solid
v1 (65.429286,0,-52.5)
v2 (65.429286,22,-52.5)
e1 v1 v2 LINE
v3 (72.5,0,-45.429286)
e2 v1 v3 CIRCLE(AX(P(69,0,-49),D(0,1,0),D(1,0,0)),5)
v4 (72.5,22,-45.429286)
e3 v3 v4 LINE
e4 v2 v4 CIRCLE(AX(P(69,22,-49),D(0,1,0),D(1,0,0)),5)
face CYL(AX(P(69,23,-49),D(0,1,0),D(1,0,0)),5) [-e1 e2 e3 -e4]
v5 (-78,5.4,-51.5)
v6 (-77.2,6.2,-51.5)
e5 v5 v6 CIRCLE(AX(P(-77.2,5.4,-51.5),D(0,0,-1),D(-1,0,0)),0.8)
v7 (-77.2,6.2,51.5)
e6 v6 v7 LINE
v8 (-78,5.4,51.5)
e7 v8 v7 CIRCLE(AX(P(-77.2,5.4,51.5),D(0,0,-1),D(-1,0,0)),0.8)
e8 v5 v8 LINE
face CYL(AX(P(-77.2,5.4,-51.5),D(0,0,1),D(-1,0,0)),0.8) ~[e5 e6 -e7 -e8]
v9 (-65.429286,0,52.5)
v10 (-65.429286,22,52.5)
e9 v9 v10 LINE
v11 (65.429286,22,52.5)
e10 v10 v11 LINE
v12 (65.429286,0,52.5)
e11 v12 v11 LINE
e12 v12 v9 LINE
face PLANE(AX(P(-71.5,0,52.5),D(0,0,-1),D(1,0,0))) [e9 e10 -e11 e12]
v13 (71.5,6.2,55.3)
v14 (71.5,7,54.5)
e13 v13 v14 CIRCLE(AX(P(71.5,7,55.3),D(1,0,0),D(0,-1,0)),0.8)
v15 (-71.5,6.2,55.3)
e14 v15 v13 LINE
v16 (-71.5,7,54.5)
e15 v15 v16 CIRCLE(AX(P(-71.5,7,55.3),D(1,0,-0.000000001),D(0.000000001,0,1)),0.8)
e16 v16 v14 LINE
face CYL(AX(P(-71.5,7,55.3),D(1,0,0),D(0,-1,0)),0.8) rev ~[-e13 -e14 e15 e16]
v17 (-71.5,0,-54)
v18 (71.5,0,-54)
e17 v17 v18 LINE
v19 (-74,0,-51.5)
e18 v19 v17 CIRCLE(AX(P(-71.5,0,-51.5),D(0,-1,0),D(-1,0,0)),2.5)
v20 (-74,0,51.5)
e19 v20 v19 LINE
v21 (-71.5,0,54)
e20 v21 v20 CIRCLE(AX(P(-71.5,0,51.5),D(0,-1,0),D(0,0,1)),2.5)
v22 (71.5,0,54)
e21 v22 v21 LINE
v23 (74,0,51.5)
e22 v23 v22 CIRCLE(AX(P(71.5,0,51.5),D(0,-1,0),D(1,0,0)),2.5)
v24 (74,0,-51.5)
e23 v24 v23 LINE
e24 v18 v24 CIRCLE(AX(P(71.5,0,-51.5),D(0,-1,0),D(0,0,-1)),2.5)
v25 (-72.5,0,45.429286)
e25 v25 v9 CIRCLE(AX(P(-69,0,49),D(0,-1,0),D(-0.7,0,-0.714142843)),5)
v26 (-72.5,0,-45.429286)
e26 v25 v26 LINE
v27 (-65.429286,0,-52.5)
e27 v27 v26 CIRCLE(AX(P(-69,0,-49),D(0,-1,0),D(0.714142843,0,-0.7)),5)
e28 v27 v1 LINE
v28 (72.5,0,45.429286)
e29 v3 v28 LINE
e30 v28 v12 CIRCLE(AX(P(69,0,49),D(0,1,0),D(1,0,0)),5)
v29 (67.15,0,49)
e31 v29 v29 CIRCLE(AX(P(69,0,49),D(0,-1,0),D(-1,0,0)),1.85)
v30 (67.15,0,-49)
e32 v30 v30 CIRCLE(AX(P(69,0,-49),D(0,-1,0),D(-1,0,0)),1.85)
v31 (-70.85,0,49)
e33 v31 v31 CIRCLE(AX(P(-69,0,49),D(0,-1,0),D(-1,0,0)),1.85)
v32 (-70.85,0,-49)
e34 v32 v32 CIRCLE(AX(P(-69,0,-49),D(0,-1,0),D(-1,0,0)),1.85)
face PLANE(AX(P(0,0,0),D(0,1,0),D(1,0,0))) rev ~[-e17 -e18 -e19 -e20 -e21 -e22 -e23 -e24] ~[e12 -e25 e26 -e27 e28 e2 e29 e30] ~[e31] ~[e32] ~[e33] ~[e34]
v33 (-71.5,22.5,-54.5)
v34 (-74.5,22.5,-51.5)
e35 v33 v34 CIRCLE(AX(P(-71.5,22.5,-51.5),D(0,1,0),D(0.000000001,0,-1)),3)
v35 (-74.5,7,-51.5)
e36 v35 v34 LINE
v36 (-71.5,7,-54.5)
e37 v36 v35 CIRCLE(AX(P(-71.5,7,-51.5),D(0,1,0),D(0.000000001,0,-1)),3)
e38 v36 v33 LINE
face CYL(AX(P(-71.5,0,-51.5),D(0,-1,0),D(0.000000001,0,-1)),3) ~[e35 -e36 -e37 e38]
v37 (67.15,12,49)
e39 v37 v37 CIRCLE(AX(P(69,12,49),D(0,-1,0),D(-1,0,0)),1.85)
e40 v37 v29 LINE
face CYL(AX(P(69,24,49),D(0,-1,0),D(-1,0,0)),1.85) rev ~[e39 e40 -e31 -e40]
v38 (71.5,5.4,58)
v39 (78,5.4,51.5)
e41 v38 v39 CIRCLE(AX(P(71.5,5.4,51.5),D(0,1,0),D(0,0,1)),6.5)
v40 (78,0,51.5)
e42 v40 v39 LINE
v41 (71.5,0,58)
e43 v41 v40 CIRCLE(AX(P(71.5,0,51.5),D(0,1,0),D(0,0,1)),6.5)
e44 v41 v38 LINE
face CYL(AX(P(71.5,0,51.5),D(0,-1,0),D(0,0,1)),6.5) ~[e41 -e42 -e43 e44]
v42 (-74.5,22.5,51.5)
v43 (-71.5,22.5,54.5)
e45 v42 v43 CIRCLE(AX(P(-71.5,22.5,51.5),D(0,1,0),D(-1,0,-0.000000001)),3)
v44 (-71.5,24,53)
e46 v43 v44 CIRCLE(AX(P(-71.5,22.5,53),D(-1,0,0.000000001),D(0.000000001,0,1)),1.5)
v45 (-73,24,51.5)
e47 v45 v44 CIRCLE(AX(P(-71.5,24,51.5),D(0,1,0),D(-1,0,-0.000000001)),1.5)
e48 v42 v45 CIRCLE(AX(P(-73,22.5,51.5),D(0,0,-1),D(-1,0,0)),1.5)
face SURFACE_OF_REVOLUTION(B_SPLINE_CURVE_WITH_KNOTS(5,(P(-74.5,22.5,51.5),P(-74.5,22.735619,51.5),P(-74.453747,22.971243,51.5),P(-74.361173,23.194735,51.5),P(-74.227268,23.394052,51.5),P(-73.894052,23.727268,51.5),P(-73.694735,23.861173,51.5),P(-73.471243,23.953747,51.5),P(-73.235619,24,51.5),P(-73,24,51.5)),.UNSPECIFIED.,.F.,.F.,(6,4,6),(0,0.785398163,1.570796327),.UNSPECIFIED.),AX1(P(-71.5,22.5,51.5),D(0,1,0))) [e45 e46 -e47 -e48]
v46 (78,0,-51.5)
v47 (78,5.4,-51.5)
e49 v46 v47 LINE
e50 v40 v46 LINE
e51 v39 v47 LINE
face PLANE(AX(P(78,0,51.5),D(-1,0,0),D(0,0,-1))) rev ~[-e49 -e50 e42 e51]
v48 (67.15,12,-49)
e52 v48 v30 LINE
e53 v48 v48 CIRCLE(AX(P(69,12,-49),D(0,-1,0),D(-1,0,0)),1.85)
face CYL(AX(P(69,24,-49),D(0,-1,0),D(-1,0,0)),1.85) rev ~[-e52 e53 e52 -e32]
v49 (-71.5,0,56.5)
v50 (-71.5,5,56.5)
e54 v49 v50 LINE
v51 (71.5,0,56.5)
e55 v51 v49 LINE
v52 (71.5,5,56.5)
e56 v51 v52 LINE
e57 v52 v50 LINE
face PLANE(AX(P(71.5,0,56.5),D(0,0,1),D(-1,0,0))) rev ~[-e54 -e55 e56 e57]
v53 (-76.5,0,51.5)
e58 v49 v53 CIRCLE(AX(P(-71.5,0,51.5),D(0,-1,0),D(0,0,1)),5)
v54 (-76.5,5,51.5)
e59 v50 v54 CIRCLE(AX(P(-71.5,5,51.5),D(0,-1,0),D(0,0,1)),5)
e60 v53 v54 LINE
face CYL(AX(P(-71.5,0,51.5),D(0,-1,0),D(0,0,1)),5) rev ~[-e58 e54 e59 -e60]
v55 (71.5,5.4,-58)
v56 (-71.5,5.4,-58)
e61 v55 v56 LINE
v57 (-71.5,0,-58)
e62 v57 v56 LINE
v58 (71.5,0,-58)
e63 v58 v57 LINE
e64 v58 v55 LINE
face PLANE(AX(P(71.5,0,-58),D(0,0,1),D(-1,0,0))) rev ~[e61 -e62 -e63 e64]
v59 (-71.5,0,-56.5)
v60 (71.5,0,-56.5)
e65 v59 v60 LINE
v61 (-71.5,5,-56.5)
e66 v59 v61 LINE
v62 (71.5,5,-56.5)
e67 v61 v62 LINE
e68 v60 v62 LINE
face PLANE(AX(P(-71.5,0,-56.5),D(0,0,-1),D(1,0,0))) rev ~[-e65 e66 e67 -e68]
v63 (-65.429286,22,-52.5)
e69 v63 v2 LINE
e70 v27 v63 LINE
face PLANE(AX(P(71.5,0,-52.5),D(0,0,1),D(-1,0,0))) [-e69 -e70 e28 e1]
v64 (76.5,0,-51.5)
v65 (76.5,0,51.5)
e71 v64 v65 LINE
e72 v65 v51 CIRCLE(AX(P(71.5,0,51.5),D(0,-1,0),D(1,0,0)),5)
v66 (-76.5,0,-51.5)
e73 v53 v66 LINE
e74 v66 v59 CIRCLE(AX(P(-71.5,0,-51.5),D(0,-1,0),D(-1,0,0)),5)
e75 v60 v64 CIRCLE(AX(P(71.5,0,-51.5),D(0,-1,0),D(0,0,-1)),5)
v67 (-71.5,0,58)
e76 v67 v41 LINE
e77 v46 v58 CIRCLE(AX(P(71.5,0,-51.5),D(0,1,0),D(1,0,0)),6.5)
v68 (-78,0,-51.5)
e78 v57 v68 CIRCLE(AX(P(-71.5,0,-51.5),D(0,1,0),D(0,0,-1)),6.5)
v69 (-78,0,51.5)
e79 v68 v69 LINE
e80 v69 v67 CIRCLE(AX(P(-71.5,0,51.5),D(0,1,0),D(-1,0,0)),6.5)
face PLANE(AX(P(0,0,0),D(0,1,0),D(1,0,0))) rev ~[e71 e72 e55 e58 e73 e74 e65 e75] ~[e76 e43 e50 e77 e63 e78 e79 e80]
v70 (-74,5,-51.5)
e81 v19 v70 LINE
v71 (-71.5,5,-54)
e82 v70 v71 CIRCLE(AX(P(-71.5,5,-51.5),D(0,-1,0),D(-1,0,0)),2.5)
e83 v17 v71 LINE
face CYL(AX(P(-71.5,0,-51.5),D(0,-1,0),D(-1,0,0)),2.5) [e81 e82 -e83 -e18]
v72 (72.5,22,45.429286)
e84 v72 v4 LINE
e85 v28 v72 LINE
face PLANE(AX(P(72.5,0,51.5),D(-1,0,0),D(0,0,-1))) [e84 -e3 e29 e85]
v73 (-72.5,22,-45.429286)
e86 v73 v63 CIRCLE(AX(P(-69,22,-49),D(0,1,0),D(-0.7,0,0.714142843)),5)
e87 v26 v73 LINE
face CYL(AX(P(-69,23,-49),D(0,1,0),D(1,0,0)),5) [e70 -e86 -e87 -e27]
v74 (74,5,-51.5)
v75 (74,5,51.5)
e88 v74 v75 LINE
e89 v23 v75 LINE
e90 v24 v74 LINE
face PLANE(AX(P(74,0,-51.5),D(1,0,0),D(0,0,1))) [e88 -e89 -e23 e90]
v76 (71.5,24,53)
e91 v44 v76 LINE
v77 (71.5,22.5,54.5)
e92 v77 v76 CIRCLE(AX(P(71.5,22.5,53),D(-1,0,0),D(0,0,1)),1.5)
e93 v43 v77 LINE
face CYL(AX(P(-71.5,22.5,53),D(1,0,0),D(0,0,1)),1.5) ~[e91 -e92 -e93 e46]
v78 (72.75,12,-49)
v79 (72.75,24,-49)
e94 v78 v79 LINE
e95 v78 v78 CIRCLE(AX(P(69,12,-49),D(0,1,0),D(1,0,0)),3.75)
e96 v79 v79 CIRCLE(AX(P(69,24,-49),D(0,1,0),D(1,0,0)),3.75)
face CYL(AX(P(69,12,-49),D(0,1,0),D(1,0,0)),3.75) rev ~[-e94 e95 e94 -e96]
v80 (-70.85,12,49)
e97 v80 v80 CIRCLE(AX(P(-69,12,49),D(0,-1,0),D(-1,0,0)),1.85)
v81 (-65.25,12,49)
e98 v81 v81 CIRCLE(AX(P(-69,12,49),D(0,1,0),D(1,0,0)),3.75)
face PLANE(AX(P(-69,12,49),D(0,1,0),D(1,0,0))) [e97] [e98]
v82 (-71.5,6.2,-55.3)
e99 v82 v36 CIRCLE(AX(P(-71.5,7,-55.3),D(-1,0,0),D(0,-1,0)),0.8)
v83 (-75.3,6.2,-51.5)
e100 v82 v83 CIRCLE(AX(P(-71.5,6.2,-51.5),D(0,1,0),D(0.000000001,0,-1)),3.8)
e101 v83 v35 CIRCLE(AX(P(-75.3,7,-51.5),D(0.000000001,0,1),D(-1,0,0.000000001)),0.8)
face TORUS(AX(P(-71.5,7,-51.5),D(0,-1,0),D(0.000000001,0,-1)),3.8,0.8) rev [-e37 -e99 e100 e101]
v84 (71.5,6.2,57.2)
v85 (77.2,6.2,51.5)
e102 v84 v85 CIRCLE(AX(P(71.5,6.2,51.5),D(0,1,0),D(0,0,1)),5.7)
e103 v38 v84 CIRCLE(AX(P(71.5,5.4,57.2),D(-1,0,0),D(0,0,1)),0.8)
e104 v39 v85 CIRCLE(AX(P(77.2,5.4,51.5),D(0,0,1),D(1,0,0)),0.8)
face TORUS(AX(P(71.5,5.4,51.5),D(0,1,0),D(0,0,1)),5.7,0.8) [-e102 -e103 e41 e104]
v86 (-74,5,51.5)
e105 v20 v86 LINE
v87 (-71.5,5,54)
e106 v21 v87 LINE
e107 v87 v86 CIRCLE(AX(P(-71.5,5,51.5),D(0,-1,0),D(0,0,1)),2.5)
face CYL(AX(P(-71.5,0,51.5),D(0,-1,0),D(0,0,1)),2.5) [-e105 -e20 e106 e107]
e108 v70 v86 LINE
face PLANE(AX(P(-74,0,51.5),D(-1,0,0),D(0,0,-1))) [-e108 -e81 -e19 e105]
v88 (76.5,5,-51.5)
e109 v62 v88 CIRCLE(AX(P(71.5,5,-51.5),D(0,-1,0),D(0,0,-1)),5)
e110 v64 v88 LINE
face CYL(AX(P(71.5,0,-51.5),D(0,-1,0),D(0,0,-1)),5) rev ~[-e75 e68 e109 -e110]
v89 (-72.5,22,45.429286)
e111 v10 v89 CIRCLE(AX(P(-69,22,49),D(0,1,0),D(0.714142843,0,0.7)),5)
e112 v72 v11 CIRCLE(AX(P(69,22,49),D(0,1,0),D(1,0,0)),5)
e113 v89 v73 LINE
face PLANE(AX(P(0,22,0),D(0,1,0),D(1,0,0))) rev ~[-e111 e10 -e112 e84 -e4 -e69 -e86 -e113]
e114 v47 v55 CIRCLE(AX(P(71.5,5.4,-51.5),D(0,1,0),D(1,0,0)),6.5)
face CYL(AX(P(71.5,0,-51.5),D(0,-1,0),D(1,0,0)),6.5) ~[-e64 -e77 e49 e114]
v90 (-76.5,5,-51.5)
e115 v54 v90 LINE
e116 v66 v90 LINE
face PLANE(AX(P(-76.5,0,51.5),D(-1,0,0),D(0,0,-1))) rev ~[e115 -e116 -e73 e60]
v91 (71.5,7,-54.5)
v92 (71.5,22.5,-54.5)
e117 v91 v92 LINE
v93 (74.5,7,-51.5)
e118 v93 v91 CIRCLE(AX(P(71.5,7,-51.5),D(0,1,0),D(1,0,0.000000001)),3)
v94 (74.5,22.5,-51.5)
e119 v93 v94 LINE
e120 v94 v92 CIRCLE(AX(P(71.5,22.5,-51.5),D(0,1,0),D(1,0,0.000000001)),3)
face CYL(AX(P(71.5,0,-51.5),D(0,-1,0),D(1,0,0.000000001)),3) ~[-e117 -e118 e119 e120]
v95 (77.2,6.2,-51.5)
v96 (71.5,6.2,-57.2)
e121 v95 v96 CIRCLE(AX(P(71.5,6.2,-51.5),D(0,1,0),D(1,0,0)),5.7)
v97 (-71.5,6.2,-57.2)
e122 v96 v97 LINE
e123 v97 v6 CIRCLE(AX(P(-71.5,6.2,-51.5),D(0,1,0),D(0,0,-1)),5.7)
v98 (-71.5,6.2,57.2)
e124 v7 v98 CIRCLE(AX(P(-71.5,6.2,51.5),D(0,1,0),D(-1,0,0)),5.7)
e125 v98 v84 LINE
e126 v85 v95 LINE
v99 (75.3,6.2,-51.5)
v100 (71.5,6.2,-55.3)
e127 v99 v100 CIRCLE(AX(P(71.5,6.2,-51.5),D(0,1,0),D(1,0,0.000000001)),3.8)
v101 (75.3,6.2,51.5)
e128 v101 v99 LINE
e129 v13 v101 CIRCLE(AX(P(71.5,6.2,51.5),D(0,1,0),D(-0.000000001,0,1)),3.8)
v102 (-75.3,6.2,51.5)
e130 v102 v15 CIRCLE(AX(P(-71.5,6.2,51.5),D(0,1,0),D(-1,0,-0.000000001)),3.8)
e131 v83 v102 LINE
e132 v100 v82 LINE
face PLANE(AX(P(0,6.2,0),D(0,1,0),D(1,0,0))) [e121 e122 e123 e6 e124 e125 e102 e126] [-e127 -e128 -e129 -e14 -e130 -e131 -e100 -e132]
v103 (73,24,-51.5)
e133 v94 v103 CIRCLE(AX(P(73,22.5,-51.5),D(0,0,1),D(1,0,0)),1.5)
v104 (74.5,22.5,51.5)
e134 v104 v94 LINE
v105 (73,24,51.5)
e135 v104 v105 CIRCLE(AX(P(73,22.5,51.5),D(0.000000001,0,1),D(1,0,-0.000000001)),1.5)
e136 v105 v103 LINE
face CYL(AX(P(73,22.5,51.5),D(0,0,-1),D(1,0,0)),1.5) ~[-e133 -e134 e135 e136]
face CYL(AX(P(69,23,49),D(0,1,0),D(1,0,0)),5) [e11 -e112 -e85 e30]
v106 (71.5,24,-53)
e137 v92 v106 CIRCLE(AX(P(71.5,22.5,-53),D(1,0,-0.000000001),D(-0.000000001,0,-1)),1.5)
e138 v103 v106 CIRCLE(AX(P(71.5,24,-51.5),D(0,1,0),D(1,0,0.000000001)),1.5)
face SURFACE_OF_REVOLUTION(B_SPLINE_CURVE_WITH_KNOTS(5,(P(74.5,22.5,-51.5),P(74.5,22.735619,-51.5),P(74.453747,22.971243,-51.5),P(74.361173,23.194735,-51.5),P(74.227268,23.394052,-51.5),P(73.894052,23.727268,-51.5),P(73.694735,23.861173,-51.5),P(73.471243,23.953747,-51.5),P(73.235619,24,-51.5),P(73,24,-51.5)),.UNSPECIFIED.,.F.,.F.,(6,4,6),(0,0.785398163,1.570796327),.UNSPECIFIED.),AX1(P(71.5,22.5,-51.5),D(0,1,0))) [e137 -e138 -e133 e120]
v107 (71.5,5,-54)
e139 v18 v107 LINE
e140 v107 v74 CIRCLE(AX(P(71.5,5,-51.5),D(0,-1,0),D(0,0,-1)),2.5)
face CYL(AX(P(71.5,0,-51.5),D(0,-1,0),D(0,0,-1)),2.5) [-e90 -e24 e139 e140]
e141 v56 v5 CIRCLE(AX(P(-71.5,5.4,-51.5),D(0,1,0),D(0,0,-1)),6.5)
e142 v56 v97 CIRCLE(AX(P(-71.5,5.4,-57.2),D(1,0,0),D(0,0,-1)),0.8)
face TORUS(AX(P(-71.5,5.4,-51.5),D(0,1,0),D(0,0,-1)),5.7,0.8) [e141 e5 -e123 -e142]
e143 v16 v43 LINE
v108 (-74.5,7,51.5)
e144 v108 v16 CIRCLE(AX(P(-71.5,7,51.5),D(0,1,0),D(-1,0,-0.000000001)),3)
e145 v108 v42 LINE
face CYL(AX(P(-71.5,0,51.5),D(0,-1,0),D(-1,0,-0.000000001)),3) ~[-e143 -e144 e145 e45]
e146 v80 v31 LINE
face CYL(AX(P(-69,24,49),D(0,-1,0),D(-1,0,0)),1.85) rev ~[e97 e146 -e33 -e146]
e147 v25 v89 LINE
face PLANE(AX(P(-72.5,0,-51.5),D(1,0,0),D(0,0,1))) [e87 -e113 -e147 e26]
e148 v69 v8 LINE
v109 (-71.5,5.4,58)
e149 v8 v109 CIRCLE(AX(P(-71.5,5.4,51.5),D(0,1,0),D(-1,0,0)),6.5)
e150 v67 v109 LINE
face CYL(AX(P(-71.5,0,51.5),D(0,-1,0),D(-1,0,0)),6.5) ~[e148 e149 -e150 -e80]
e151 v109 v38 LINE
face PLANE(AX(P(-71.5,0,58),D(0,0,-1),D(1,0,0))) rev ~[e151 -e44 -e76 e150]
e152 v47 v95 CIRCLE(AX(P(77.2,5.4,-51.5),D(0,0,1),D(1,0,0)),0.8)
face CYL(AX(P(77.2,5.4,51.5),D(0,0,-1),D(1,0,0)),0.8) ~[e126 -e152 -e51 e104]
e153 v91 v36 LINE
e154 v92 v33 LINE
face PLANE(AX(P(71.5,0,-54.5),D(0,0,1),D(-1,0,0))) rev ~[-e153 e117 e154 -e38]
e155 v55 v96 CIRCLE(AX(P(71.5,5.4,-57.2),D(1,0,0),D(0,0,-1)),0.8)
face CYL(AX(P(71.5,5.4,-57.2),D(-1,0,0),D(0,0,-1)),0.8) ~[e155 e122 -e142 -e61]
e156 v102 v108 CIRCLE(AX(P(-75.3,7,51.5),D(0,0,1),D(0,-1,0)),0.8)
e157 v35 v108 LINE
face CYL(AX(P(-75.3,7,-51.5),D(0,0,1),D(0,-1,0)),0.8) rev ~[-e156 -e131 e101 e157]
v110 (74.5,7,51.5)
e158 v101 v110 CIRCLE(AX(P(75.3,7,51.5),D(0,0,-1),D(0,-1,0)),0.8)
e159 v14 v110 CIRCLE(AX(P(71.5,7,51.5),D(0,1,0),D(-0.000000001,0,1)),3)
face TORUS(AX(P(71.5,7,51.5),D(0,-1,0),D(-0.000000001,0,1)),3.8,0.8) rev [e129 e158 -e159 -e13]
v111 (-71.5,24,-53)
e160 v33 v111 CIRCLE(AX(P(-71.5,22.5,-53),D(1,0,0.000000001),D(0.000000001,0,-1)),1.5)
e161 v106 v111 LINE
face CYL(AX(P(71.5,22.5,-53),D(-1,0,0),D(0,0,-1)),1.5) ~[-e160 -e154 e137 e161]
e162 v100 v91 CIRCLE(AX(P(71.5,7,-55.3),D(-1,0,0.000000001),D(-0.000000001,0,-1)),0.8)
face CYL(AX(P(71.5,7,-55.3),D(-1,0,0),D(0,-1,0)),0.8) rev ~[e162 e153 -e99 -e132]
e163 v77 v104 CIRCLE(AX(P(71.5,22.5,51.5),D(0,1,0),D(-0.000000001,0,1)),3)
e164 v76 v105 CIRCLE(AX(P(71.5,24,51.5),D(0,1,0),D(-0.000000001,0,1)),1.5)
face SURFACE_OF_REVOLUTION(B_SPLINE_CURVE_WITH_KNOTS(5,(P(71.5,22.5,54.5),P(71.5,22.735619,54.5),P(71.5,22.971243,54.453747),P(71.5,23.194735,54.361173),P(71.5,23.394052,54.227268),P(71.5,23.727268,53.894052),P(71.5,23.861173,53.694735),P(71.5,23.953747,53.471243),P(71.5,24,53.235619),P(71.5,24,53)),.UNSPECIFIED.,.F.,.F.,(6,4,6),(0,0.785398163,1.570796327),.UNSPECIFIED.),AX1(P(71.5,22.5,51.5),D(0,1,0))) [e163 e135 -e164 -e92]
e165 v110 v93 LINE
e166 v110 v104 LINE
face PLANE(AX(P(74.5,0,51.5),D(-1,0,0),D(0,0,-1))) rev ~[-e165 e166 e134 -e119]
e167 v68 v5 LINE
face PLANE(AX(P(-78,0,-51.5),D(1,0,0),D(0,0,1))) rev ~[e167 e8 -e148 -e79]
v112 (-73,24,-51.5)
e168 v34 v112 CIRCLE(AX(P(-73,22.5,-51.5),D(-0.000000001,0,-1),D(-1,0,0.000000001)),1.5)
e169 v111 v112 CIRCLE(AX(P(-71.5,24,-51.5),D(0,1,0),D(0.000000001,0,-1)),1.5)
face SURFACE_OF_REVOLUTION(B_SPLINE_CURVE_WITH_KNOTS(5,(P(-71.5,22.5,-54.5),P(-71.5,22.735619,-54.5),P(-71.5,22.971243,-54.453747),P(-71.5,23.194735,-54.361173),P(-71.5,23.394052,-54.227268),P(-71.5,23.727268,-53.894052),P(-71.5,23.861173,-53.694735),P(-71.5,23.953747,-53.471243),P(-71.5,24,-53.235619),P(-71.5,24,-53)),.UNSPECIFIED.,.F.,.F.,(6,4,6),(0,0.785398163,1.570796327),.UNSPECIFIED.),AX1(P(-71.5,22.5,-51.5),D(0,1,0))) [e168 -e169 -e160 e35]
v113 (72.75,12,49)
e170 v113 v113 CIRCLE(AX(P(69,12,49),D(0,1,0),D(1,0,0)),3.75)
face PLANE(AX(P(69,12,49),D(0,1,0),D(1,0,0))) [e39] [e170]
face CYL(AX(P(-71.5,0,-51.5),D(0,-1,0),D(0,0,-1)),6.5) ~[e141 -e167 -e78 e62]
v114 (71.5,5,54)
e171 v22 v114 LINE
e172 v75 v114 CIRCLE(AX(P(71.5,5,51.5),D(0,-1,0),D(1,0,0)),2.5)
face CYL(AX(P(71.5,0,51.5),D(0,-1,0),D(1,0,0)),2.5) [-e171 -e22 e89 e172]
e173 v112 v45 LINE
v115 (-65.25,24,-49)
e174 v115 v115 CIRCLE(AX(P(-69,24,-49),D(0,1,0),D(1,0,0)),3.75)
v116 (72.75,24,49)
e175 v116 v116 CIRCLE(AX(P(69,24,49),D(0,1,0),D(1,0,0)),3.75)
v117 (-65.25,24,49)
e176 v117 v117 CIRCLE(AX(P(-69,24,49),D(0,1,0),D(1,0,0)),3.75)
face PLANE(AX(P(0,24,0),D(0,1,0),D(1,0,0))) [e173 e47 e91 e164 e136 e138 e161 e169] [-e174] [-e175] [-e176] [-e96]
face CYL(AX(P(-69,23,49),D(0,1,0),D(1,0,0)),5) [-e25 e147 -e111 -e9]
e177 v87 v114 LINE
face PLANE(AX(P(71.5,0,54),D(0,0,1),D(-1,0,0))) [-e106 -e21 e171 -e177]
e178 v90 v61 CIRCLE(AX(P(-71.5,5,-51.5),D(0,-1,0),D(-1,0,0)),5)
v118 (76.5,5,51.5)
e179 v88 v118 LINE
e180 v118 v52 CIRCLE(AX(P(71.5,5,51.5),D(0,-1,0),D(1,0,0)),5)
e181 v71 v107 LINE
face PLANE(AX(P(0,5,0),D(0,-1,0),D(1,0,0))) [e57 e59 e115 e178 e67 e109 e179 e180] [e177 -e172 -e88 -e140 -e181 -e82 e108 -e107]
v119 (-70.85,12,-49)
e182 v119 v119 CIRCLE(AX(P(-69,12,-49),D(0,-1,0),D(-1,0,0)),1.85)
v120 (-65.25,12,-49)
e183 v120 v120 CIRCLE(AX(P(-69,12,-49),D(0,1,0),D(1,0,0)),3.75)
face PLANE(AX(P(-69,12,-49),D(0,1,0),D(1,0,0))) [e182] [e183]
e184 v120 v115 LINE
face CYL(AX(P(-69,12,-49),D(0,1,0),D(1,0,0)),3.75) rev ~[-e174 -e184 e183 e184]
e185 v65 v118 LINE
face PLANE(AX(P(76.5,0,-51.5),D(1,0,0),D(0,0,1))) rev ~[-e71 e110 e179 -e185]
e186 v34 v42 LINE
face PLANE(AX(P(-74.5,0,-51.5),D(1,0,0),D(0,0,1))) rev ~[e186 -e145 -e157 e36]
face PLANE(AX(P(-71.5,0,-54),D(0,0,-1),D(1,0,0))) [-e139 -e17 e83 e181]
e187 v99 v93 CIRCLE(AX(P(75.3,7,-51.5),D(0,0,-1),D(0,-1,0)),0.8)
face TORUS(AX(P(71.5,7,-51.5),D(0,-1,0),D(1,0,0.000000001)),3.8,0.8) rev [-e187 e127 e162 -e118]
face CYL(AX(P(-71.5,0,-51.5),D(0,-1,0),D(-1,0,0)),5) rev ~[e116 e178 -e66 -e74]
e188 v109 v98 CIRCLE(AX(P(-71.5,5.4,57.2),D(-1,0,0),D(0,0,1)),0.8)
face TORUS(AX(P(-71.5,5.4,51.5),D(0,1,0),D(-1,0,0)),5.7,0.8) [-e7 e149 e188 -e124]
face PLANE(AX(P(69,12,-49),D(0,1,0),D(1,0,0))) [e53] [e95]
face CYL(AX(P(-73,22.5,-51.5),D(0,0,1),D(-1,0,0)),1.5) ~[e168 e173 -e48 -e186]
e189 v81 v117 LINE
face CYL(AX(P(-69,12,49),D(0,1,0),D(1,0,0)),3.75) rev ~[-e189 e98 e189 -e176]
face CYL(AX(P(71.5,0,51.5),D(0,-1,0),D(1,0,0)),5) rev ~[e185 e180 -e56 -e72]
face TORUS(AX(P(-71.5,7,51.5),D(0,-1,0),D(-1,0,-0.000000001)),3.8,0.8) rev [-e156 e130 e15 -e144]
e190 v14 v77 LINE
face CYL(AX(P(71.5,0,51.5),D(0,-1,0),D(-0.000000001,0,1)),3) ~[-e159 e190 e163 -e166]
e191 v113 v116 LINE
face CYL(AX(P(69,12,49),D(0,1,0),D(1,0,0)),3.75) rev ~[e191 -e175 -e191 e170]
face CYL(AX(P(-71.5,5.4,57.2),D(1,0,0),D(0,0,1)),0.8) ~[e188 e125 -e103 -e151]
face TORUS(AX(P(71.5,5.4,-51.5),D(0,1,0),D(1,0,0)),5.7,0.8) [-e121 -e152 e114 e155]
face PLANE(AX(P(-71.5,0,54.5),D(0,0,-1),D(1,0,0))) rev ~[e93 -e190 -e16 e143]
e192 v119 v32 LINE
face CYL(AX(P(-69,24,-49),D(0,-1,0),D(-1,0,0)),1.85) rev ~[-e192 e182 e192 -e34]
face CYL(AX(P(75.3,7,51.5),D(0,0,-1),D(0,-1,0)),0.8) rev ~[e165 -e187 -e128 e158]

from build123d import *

# Parameters (mm, degrees)
BOSS_EXTRUDE1_DEPTH                     = 24
FILLET1_R                               = 1.5
SHELL1_T                                = -2
BOSS_EXTRUDE2_DEPTH                     = 6.2
CUT_EXTRUDE1_DEPTH                      = 5
FILLET2_R                               = 0.8
BOSS_EXTRUDE4_START                     = -1
SKETCH4_R                               = 5
BOSS_EXTRUDE4_DEPTH                     = 23
CBORE_FOR_M5_HEX_HEAD_BOLT1_D           = 3.7
CBORE_FOR_M5_HEX_HEAD_BOLT1_CBORE_D     = 7.5
CBORE_FOR_M5_HEX_HEAD_BOLT1_CBORE_DEPTH = 12


with BuildPart() as part:
    # Sketch1 → Boss-Extrude1 (new body)
    with BuildSketch(Plane(origin=(0, 0, 0), x_dir=(1, 0, 0), z_dir=(0, 1, 0))):
        with BuildLine():
            Line((74.5, -51.5), (74.5, 51.5))
            ThreePointArc((74.5, 51.5), (73.621320344, 53.621320344), (71.5, 54.5))
            Line((71.5, 54.5), (-71.5, 54.5))
            ThreePointArc((-71.5, 54.5), (-73.621320344, 53.621320344), (-74.5, 51.5))
            Line((-74.5, 51.5), (-74.5, -51.5))
            ThreePointArc((-74.5, -51.5), (-73.621320344, -53.621320344), (-71.5, -54.5))
            Line((-71.5, -54.5), (71.5, -54.5))
            ThreePointArc((71.5, -54.5), (73.621320344, -53.621320344), (74.5, -51.5))
        make_face()
    extrude(amount=BOSS_EXTRUDE1_DEPTH)

    # Fillet1
    fillet1_edges = [part.edges().sort_by_distance(p)[0] for p in [
        (-73.621320344, 24, -53.621320344),
        (-74.5, 24, 0),
        (-73.621320344, 24, 53.621320344),
        (0, 24, 54.5),
        (73.621320344, 24, 53.621320344),
        (74.5, 24, 0),
        (73.621320344, 24, -53.621320344),
        (0, 24, -54.5),
    ]]
    fillet(fillet1_edges, radius=FILLET1_R)

    # Shell1
    shell1_openings = [part.faces().sort_by_distance(p)[0] for p in [
        (0, 0, 0),
    ]]
    offset(amount=SHELL1_T, openings=shell1_openings, kind=Kind.INTERSECTION)

    # Sketch2 → Boss-Extrude2 (add)
    with BuildSketch(Plane(origin=(0, 0, 0), x_dir=(1, 0, 0), z_dir=(0, 1, 0))):
        with BuildLine():
            Line((-78, 51.5), (-78, -51.5))
            ThreePointArc((-78, -51.5), (-76.096194078, -56.096194078), (-71.5, -58))
            Line((-71.5, -58), (71.5, -58))
            ThreePointArc((71.5, -58), (76.096194078, -56.096194078), (78, -51.5))
            Line((78, -51.5), (78, 51.5))
            ThreePointArc((78, 51.5), (76.096194078, 56.096194078), (71.5, 58))
            Line((71.5, 58), (-71.5, 58))
            ThreePointArc((-71.5, 58), (-76.096194078, 56.096194078), (-78, 51.5))
        make_face()
        with BuildLine():
            Line((72.5, -51.5), (72.5, 51.5))
            ThreePointArc((72.5, 51.5), (72.207106781, 52.207106781), (71.5, 52.5))
            Line((71.5, 52.5), (-71.5, 52.5))
            ThreePointArc((-71.5, 52.5), (-72.207106781, 52.207106781), (-72.5, 51.5))
            Line((-72.5, 51.5), (-72.5, -51.5))
            ThreePointArc((-72.5, -51.5), (-72.207106781, -52.207106781), (-71.5, -52.5))
            Line((-71.5, -52.5), (71.5, -52.5))
            ThreePointArc((71.5, -52.5), (72.207106781, -52.207106781), (72.5, -51.5))
        make_face(mode=Mode.SUBTRACT)
    extrude(amount=BOSS_EXTRUDE2_DEPTH)

    # Sketch3 → Cut-Extrude1 (cut)
    with BuildSketch(Plane.XZ):
        with BuildLine():
            Line((-71.5, -56.5), (71.5, -56.5))
            ThreePointArc((71.5, -56.5), (75.035533906, -55.035533906), (76.5, -51.5))
            Line((76.5, -51.5), (76.5, 51.5))
            ThreePointArc((76.5, 51.5), (75.035533906, 55.035533906), (71.5, 56.5))
            Line((71.5, 56.5), (-71.5, 56.5))
            ThreePointArc((-71.5, 56.5), (-75.035533906, 55.035533906), (-76.5, 51.5))
            Line((-76.5, 51.5), (-76.5, -51.5))
            ThreePointArc((-76.5, -51.5), (-75.035533906, -55.035533906), (-71.5, -56.5))
        make_face()
        with BuildLine():
            Line((74, -51.5), (74, 51.5))
            ThreePointArc((74, 51.5), (73.267766953, 53.267766953), (71.5, 54))
            Line((71.5, 54), (-71.5, 54))
            ThreePointArc((-71.5, 54), (-73.267766953, 53.267766953), (-74, 51.5))
            Line((-74, 51.5), (-74, -51.5))
            ThreePointArc((-74, -51.5), (-73.267766953, -53.267766953), (-71.5, -54))
            Line((-71.5, -54), (71.5, -54))
            ThreePointArc((71.5, -54), (73.267766953, -53.267766953), (74, -51.5))
        make_face(mode=Mode.SUBTRACT)
    extrude(amount=-CUT_EXTRUDE1_DEPTH, mode=Mode.SUBTRACT)

    # Fillet2
    fillet2_edges = [part.edges().sort_by_distance(p)[0] for p in [
        (-76.096194078, 6.2, -56.096194078),
        (-78, 6.2, 0),
        (-76.096194078, 6.2, 56.096194078),
        (0, 6.2, 58),
        (76.096194078, 6.2, 56.096194078),
        (78, 6.2, 0),
        (76.096194078, 6.2, -56.096194078),
        (0, 6.2, -58),
        (74.5, 6.2, 0),
        (73.621320344, 6.2, -53.621320344),
        (0, 6.2, -54.5),
        (-73.621320344, 6.2, -53.621320344),
        (-74.5, 6.2, 0),
        (-73.621320344, 6.2, 53.621320344),
        (0, 6.2, 54.5),
        (73.621320344, 6.2, 53.621320344),
    ]]
    fillet(fillet2_edges, radius=FILLET2_R)

    # Sketch4 → Boss-Extrude4 (add)
    with BuildSketch(Plane(origin=(0, 24, 0), x_dir=(1, 0, 0), z_dir=(0, 1, 0)).offset(BOSS_EXTRUDE4_START)):
        with Locations((69, 49)):
            Circle(SKETCH4_R)
        with Locations((69, -49)):
            Circle(SKETCH4_R)
        with Locations((-69, 49)):
            Circle(SKETCH4_R)
        with Locations((-69, -49)):
            Circle(SKETCH4_R)
    extrude(amount=-BOSS_EXTRUDE4_DEPTH)

    # CBORE for M5 Hex Head Bolt1 (through all)
    with Locations(Plane(origin=(0, 24, 0), x_dir=(1, 0, 0), z_dir=(0, 1, 0))):
        with Locations((-69, -49), (69, -49), (-69, 49), (69, 49)):
            CounterBoreHole(CBORE_FOR_M5_HEX_HEAD_BOLT1_D / 2, CBORE_FOR_M5_HEX_HEAD_BOLT1_CBORE_D / 2, CBORE_FOR_M5_HEX_HEAD_BOLT1_CBORE_DEPTH)


solid = part.part
